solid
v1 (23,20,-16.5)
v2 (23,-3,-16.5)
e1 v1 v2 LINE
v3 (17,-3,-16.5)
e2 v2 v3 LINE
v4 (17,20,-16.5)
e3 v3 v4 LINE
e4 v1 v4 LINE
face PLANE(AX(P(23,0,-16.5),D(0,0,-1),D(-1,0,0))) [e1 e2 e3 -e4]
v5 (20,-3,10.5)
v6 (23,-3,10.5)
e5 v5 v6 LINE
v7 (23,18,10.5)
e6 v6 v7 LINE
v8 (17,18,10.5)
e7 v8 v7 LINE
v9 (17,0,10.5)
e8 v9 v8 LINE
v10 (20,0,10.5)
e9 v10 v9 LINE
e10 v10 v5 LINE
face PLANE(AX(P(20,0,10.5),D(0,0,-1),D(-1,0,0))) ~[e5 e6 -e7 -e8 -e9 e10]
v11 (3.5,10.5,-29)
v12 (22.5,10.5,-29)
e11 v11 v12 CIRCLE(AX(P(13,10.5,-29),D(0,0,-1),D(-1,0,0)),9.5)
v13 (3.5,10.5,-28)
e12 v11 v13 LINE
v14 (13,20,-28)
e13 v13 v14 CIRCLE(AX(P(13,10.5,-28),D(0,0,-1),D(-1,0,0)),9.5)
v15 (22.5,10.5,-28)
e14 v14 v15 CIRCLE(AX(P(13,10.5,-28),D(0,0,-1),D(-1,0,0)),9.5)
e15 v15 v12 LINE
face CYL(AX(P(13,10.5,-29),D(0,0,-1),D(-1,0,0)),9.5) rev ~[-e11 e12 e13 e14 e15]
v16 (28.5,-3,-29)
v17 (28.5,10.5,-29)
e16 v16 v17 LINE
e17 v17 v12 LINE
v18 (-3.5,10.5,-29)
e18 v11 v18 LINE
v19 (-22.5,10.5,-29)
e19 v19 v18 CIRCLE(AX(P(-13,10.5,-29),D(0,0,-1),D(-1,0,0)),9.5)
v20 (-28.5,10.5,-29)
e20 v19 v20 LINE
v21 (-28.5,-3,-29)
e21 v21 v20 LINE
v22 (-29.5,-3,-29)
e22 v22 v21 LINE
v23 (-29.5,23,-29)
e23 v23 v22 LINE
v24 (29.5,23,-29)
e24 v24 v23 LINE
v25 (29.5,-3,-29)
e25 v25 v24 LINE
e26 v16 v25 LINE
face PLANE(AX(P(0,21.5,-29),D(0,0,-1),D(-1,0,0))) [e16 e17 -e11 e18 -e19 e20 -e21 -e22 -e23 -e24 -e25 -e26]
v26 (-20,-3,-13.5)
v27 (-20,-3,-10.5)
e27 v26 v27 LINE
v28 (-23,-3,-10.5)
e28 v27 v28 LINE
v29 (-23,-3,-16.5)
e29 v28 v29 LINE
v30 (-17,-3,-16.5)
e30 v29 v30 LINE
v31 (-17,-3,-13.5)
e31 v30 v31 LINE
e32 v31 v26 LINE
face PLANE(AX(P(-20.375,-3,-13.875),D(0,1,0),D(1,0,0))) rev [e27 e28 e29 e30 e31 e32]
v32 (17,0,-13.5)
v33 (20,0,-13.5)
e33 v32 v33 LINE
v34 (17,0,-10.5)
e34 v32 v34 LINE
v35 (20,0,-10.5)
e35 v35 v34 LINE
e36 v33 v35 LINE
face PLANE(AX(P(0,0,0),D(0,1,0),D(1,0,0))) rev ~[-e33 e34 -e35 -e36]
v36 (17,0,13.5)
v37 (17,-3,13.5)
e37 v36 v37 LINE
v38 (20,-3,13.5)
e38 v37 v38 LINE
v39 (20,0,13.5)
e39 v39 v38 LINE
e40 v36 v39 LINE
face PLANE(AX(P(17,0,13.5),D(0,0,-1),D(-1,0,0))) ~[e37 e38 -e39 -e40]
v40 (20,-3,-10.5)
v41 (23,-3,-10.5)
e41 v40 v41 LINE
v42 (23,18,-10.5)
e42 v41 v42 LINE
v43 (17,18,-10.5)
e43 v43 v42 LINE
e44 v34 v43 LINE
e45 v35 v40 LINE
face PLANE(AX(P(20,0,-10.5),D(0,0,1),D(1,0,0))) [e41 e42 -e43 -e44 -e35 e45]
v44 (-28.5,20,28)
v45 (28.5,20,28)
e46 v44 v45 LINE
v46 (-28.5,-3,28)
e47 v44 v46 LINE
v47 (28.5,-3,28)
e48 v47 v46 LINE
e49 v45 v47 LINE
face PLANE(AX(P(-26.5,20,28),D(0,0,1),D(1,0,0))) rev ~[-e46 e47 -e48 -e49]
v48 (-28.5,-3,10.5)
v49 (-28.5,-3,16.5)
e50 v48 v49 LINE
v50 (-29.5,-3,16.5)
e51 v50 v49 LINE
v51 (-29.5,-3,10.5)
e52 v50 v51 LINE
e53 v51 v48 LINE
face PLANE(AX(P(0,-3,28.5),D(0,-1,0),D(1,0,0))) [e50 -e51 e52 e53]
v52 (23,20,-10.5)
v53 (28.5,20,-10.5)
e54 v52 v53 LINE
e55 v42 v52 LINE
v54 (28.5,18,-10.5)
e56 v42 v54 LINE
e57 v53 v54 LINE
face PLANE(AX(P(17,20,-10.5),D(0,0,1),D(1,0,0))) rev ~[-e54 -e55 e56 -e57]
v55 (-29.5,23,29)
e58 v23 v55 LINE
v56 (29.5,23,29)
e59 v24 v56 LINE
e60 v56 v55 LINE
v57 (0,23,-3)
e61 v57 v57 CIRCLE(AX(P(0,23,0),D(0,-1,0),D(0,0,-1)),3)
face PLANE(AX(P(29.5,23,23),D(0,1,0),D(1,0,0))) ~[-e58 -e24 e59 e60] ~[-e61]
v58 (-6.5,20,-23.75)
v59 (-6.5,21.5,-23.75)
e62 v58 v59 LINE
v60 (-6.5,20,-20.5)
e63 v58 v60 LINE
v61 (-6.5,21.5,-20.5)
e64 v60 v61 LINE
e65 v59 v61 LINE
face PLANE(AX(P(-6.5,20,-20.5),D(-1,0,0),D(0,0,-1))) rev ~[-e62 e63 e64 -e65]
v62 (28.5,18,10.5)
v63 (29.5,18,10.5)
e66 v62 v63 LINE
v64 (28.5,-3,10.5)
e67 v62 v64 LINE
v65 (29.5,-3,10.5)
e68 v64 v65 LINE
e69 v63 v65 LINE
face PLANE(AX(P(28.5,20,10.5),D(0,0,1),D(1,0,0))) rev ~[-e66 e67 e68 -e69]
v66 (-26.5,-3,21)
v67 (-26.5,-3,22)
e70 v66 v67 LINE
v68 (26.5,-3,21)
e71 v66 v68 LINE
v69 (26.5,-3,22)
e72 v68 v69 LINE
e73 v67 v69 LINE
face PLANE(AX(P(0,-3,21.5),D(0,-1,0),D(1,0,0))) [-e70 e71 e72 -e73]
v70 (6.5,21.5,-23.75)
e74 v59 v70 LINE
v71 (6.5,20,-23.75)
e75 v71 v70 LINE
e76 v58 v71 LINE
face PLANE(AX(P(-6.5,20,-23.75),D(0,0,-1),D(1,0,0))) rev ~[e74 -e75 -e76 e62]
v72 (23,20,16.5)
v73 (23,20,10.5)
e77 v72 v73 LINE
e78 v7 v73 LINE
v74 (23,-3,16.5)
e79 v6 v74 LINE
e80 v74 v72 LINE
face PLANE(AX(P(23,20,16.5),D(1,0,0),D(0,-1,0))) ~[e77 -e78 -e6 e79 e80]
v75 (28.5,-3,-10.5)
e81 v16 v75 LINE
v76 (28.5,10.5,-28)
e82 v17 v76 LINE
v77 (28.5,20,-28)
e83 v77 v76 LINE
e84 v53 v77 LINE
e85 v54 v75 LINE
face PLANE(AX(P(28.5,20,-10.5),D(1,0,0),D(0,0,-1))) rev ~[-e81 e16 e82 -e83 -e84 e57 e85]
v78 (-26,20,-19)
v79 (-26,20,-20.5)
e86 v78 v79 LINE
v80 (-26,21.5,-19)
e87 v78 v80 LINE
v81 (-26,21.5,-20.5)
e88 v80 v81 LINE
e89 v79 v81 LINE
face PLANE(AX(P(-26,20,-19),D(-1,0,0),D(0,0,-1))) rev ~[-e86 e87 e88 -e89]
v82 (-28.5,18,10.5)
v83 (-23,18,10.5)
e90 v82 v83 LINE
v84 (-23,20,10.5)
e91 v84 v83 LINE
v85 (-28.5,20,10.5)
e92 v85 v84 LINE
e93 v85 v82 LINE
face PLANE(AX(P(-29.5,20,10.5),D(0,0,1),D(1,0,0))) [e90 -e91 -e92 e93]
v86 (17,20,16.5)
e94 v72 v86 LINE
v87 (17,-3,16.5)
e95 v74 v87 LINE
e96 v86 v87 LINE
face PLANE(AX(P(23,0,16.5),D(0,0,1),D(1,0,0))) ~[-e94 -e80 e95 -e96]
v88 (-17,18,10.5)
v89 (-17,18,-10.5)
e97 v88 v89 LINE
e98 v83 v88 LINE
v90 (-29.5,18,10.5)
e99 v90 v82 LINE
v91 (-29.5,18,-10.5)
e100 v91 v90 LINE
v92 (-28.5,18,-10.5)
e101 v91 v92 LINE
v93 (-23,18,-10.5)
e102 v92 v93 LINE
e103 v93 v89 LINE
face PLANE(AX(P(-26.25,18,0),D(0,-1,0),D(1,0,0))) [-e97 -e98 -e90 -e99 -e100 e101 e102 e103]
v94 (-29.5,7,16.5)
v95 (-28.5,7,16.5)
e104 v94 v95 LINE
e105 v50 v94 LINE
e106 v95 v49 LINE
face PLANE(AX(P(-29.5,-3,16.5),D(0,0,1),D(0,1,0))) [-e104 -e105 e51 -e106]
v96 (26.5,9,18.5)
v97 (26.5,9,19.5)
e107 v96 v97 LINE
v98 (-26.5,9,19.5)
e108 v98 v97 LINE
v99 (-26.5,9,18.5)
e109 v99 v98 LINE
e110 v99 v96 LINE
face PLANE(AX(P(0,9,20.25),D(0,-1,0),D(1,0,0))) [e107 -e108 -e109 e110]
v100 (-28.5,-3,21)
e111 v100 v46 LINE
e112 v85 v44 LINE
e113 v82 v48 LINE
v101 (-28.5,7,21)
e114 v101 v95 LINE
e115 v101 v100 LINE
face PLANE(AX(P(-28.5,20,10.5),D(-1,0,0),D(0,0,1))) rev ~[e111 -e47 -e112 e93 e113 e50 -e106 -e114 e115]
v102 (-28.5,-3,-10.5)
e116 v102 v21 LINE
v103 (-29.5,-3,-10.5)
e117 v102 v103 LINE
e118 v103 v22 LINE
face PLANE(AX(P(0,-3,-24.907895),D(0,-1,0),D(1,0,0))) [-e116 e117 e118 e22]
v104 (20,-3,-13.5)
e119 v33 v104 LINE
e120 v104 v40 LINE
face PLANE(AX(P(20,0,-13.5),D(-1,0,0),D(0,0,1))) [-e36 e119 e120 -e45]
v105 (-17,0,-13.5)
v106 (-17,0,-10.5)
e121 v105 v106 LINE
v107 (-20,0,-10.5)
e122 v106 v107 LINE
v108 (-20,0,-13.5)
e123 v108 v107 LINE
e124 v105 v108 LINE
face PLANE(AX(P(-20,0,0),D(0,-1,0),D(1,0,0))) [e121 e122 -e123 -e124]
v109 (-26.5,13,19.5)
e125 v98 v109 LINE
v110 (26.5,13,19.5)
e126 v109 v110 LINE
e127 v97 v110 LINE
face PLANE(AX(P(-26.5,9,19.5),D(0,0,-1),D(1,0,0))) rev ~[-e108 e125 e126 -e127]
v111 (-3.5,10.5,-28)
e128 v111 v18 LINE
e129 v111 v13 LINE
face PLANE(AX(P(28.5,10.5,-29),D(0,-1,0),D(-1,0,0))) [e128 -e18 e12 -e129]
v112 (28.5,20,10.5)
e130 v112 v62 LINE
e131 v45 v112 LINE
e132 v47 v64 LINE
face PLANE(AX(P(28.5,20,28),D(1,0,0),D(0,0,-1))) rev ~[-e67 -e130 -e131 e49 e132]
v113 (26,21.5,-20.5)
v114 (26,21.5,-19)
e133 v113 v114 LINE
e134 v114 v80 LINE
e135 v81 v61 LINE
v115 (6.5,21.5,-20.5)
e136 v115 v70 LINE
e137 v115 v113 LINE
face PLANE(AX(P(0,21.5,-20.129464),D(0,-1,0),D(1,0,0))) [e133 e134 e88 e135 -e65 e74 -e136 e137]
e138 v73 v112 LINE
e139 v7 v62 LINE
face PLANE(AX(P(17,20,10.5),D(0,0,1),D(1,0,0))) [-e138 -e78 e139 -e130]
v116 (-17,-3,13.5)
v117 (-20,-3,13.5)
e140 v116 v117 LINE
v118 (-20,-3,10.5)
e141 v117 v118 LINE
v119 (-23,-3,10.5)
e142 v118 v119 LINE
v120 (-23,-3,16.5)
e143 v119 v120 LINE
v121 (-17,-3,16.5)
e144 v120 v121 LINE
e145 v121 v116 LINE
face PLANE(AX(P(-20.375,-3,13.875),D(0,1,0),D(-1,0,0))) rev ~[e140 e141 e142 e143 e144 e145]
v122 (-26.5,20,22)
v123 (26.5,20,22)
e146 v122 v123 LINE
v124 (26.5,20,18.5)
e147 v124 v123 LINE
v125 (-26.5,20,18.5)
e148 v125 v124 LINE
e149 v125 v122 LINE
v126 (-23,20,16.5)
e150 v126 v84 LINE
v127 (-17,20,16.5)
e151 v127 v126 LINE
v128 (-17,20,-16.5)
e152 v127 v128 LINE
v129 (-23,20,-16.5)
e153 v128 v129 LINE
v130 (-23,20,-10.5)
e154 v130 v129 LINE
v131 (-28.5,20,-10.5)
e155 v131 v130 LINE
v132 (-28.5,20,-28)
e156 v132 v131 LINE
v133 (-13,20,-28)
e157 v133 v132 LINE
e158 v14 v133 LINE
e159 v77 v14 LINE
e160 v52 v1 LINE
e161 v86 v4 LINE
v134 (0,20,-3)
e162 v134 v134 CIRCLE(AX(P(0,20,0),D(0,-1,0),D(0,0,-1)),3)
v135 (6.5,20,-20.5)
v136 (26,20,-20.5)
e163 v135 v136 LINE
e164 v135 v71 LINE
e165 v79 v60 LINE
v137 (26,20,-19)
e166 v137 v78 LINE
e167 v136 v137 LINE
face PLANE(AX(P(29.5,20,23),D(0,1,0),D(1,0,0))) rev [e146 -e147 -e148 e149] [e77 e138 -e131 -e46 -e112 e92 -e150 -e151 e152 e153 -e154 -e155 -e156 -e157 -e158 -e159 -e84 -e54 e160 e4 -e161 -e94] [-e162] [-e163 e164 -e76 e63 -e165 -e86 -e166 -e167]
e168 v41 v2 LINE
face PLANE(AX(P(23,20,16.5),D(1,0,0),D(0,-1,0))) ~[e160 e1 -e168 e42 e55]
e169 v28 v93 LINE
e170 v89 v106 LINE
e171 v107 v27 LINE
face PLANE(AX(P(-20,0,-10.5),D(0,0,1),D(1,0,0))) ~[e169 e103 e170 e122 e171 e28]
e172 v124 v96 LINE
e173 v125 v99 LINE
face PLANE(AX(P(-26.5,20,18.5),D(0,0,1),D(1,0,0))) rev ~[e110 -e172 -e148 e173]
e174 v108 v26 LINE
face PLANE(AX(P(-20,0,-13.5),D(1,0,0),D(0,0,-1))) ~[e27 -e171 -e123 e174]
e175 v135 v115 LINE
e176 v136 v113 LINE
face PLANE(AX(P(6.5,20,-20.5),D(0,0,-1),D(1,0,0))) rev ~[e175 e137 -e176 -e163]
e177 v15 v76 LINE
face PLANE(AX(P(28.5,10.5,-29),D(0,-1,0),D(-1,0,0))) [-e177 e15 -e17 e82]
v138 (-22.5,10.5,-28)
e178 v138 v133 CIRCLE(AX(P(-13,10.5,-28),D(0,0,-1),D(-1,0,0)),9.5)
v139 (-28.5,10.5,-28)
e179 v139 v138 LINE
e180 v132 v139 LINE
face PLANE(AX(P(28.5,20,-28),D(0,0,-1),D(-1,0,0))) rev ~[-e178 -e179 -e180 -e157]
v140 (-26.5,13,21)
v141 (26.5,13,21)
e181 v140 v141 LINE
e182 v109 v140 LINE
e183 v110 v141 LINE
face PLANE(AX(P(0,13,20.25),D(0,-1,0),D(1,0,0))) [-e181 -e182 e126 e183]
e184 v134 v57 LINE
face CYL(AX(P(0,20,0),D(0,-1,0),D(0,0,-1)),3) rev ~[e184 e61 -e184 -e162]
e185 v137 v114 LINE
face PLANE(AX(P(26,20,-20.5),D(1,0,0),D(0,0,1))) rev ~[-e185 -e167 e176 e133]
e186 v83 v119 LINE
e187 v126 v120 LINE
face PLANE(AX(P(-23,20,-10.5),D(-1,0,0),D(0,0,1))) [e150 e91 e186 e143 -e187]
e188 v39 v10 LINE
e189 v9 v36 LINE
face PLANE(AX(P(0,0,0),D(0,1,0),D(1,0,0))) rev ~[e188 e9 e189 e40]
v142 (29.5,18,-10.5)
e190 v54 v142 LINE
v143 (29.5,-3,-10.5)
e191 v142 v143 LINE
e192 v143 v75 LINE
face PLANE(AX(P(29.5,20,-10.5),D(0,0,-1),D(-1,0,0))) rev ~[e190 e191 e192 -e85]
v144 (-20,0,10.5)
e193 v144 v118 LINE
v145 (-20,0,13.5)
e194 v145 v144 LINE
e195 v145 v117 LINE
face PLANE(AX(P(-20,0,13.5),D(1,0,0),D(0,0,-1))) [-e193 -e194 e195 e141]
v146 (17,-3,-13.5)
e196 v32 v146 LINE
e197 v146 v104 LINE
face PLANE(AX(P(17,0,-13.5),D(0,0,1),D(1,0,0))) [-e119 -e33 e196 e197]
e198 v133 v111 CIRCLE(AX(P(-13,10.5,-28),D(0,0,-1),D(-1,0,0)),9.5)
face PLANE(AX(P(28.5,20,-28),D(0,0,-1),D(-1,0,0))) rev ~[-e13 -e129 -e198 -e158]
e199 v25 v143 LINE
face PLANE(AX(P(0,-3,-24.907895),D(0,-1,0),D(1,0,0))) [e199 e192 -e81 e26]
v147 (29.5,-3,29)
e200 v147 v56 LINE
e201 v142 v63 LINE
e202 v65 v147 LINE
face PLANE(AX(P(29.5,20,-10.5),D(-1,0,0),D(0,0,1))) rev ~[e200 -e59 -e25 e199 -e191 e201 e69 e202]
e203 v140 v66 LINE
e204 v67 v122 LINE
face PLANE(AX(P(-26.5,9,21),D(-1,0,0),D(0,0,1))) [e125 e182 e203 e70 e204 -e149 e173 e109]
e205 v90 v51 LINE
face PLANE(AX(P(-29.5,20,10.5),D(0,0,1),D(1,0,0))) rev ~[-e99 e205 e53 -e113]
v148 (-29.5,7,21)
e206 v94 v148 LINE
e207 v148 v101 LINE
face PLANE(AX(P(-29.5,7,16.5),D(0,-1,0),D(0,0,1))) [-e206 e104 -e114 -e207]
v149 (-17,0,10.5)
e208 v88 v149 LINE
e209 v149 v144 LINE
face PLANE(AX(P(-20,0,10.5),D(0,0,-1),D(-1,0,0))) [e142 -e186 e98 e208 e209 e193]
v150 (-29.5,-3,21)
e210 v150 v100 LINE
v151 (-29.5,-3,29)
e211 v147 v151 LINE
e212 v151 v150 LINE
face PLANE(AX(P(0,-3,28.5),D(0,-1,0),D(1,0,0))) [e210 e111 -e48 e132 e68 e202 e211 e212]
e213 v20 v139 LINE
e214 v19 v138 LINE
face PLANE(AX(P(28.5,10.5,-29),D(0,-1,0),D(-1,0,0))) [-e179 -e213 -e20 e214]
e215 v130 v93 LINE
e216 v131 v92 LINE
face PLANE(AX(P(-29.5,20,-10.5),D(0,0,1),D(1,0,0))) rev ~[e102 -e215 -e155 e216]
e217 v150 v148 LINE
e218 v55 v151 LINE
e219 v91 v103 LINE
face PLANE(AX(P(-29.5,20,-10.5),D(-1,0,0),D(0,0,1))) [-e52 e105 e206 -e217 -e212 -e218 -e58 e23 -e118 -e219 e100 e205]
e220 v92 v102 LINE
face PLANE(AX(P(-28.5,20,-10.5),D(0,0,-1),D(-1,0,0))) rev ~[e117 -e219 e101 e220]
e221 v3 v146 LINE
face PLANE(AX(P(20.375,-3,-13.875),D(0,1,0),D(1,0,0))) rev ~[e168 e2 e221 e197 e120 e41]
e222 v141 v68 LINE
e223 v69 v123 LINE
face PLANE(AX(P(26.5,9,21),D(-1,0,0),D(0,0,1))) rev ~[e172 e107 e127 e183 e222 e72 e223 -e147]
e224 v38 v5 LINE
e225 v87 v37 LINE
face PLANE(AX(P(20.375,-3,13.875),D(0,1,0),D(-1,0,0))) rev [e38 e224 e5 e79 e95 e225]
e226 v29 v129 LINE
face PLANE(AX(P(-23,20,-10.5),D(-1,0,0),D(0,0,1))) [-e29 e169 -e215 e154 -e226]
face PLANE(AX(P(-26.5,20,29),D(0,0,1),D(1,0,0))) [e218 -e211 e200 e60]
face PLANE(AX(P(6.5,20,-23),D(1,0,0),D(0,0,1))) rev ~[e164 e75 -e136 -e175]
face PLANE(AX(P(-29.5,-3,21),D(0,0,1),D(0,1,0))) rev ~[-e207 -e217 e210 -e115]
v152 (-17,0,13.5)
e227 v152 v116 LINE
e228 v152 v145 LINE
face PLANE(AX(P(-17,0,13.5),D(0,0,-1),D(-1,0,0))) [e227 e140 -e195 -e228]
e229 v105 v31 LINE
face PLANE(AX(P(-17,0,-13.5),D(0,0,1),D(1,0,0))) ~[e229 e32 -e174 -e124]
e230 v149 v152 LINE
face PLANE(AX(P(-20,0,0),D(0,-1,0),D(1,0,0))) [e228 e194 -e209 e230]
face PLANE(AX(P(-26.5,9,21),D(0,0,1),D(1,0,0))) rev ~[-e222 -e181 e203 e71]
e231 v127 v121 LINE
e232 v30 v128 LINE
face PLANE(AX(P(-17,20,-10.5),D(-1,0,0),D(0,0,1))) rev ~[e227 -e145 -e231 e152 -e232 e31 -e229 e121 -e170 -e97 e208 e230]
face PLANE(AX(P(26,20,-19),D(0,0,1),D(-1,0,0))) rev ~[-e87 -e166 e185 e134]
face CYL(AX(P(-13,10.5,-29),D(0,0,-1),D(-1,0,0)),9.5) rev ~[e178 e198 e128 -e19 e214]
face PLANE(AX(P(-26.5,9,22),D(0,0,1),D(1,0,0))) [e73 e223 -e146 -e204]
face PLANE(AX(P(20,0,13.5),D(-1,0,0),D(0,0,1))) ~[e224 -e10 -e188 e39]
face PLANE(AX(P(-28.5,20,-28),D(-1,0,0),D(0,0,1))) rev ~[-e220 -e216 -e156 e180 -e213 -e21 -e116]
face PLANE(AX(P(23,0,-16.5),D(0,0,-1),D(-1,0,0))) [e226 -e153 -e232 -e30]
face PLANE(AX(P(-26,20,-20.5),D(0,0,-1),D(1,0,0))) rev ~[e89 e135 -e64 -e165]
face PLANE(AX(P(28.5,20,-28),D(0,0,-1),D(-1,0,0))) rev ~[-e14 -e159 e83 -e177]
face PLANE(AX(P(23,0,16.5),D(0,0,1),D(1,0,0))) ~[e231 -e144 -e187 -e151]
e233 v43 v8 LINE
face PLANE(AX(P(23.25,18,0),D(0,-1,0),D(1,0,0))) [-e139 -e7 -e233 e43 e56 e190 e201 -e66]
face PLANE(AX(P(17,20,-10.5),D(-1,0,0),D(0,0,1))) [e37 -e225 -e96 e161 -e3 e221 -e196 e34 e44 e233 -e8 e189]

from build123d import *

# Parameters (mm, degrees)
SKETCH1_W            = 46
SKETCH1_H            = 33
BOSS_EXTRUDE1_DEPTH  = 23
CUT_EXTRUDE2_DEPTH   = 20
BOSS_EXTRUDE2_DEPTH  = 3
MIRROR2_COPY_1_DEPTH = 3
SKETCH6_W            = 6
SKETCH6_H            = 21
CUT_EXTRUDE3_DEPTH   = 20
SKETCH7_R            = 3
CUT_EXTRUDE5_DEPTH   = 37.47259245
SKETCH8_W            = 46
SKETCH8_H            = 3
BOSS_EXTRUDE3_DEPTH  = 6.5
SKETCH10_W           = 6
SKETCH10_H           = 21
BOSS_EXTRUDE4_DEPTH  = 20
CUT_EXTRUDE7_REACH   = 58.338
SKETCH11_W           = 21
SKETCH11_H           = 20
SKETCH13_W           = 46
SKETCH13_H           = 3
BOSS_EXTRUDE6_DEPTH  = 6.5
CUT_EXTRUDE8_DEPTH   = 1.5
SKETCH14_W           = 59
SKETCH14_H           = 3
BOSS_EXTRUDE7_DEPTH  = 6
SKETCH15_W           = 13
SKETCH15_H           = 0.75
CUT_EXTRUDE9_DEPTH   = 1.5
BOSS_EXTRUDE8_DEPTH  = 23
CUT_EXTRUDE11_REACH  = 71.016
SKETCH17_R           = 9.5
SKETCH17_W           = 57
SKETCH17_H           = 13.5
SKETCH20_W           = 53
SKETCH20_H           = 3.5
BOSS_EXTRUDE10_DEPTH = 11
SKETCH22_W           = 53
SKETCH22_H           = 1.5
CUT_EXTRUDE12_DEPTH  = 4
SKETCH23_W           = 12
SKETCH23_H           = 33
CUT_EXTRUDE13_DEPTH  = 20
SKETCH25_W           = 6.5
SKETCH25_H           = 21
BOSS_EXTRUDE11_DEPTH = 2
SKETCH27_W           = 53
SKETCH27_H           = 1
BOSS_EXTRUDE12_DEPTH = 12
SKETCH18_W           = 53
SKETCH18_H           = 1
BOSS_EXTRUDE13_DEPTH = 23
SKETCH33_W           = 12.5
SKETCH33_H           = 21
BOSS_EXTRUDE14_DEPTH = 2
CUT_EXTRUDE14_REACH  = 71.649
SKETCH34_W           = 4.5
SKETCH34_H           = 10


with BuildPart() as part:
    # Sketch1 → Boss-Extrude1 (new body)
    with BuildSketch(Plane(origin=(0, 0, 0), x_dir=(1, 0, 0), z_dir=(0, 1, 0))):
        Rectangle(SKETCH1_W, SKETCH1_H)
    extrude(amount=BOSS_EXTRUDE1_DEPTH)

    # Sketch3 → Cut-Extrude2 (cut)
    with BuildSketch(Plane.XZ):
        Polygon((-17, -10.5), (-17, -16.5), (5, -16.5), (5, -10.5), (17, -10.5), (17, 10.5), (5, 10.5), (5, 16.5), (-17, 16.5), (-17, 10.5), (-23, 10.5), (-23, -10.5), align=None)
    extrude(amount=-CUT_EXTRUDE2_DEPTH, mode=Mode.SUBTRACT)

    # Sketch5 → Boss-Extrude2 (add)
    with BuildSketch(Plane.XZ):
        Polygon((-17, 13.5), (-20, 13.5), (-20, 10.5), (-23, 10.5), (-23, 16.5), (-17, 16.5), align=None)
    boss_extrude2 = extrude(amount=BOSS_EXTRUDE2_DEPTH)

    # Mirror1: Boss-Extrude2 across plane
    add(boss_extrude2.mirror(Plane.XY))

    # Mirror2: Boss-Extrude2 across plane
    add(boss_extrude2.mirror(Plane(origin=(0, 0, 0), x_dir=(0, 0, 1), z_dir=(1, 0, 0))))

    # Mirror2 copy 1 sketch → Mirror2 copy 1 (add)
    with BuildSketch(Plane(origin=(0, 0, 0), x_dir=(-1, 0, 0), z_dir=(0, -1, 0))):
        Polygon((-17, 13.5), (-20, 13.5), (-20, 10.5), (-23, 10.5), (-23, 16.5), (-17, 16.5), align=None)
    extrude(amount=MIRROR2_COPY_1_DEPTH)

    # Sketch6 → Cut-Extrude3 (cut)
    with BuildSketch(Plane.XZ):
        with Locations((20, 0)):
            Rectangle(SKETCH6_W, SKETCH6_H)
    extrude(amount=-CUT_EXTRUDE3_DEPTH, mode=Mode.SUBTRACT)

    # Sketch7 → Cut-Extrude5 (cut, through all)
    with BuildSketch(Plane.XZ.offset(-20)):
        with Locations(Location((0, 0, 0), (0, 0, 270))):
            Circle(SKETCH7_R)
    extrude(amount=-CUT_EXTRUDE5_DEPTH, mode=Mode.SUBTRACT)

    # Sketch8 → Boss-Extrude3 (add)
    with BuildSketch(Plane(origin=(0, 0, -16.5), x_dir=(-1, 0, 0), z_dir=(0, 0, -1))):
        with Locations((0, 21.5)):
            Rectangle(SKETCH8_W, SKETCH8_H)
    boss_extrude3 = extrude(amount=BOSS_EXTRUDE3_DEPTH)

    # Mirror3: Boss-Extrude3 across plane
    add(boss_extrude3.mirror(Plane.XY))

    # Sketch10 → Boss-Extrude4 (add)
    with BuildSketch(Plane.XZ.offset(-20)):
        with Locations((-20, 0)):
            Rectangle(SKETCH10_W, SKETCH10_H)
    extrude(amount=BOSS_EXTRUDE4_DEPTH)

    # Sketch11 → Cut-Extrude7 (cut, up to next)
    with BuildSketch(Plane.ZY.offset(23), mode=Mode.PRIVATE) as cut_extrude7_sk1:
        with Locations((0, 8)):
            Rectangle(SKETCH11_W, SKETCH11_H)
    cut_extrude7_tool1 = extrude(cut_extrude7_sk1.sketch, amount=-CUT_EXTRUDE7_REACH, mode=Mode.PRIVATE) & part.part
    add(cut_extrude7_tool1.solids().sort_by_distance((-23, 8, 0))[0], mode=Mode.SUBTRACT)

    # Sketch13 → Boss-Extrude6 (add)
    with BuildSketch(Plane(origin=(23, 0, 0), x_dir=(0, 0, -1), z_dir=(1, 0, 0))):
        with Locations((0, 21.5)):
            Rectangle(SKETCH13_W, SKETCH13_H)
    boss_extrude6 = extrude(amount=BOSS_EXTRUDE6_DEPTH)

    # Mirror4: Boss-Extrude6 across plane
    add(boss_extrude6.mirror(Plane(origin=(0, 0, 0), x_dir=(0, 0, 1), z_dir=(1, 0, 0))))

    # Sketch12 → Cut-Extrude8 (cut)
    with BuildSketch(Plane.XZ.offset(-20)):
        Polygon((-6.5, -20.5), (-6.5, -23), (6.5, -23), (6.5, -20.5), (26, -20.5), (26, -19), (-26, -19), (-26, -20.5), align=None)
    extrude(amount=-CUT_EXTRUDE8_DEPTH, mode=Mode.SUBTRACT)

    # Sketch14 → Boss-Extrude7 (add)
    with BuildSketch(Plane(origin=(0, 0, -23), x_dir=(-1, 0, 0), z_dir=(0, 0, -1))):
        with Locations((0, 21.5)):
            Rectangle(SKETCH14_W, SKETCH14_H)
    boss_extrude7 = extrude(amount=BOSS_EXTRUDE7_DEPTH)

    # Mirror5: Boss-Extrude7 across plane
    add(boss_extrude7.mirror(Plane.XY))

    # Sketch15 → Cut-Extrude9 (cut)
    with BuildSketch(Plane.XZ.offset(-20)):
        with Locations((0, -23.375)):
            Rectangle(SKETCH15_W, SKETCH15_H)
    extrude(amount=-CUT_EXTRUDE9_DEPTH, mode=Mode.SUBTRACT)

    # Sketch16 → Boss-Extrude8 (add)
    with BuildSketch(Plane.XZ.offset(-20)):
        Polygon((-28.5, 28), (-26.5, 28), (-26.5, 29), (-29.5, 29), (-29.5, 10.5), (-28.5, 10.5), align=None)
        Polygon((26.5, 28), (28.5, 28), (28.5, 10.5), (29.5, 10.5), (29.5, 29), (26.5, 29), align=None)
        Polygon((29.5, -10.5), (28.5, -10.5), (28.5, -28), (-28.5, -28), (-28.5, -10.5), (-29.5, -10.5), (-29.5, -29), (29.5, -29), align=None)
    extrude(amount=BOSS_EXTRUDE8_DEPTH)

    # Sketch17 → Cut-Extrude11 (cut, up to next)
    with BuildSketch(Plane(origin=(0, 0, -29), x_dir=(-1, 0, 0), z_dir=(0, 0, -1)), mode=Mode.PRIVATE) as cut_extrude11_sk1:
        with Locations((13, 10.5)):
            Circle(SKETCH17_R)
    cut_extrude11_tool1 = extrude(cut_extrude11_sk1.sketch, amount=-CUT_EXTRUDE11_REACH, mode=Mode.PRIVATE) & part.part
    # Sketch17 → Cut-Extrude11 (cut, up to next)
    with BuildSketch(Plane(origin=(0, 0, -29), x_dir=(-1, 0, 0), z_dir=(0, 0, -1)), mode=Mode.PRIVATE) as cut_extrude11_sk2:
        with Locations((-13, 10.5)):
            Circle(SKETCH17_R)
    cut_extrude11_tool2 = extrude(cut_extrude11_sk2.sketch, amount=-CUT_EXTRUDE11_REACH, mode=Mode.PRIVATE) & part.part
    # Sketch17 → Cut-Extrude11 (cut, up to next)
    with BuildSketch(Plane(origin=(0, 0, -29), x_dir=(-1, 0, 0), z_dir=(0, 0, -1)), mode=Mode.PRIVATE) as cut_extrude11_sk3:
        with Locations((0, 3.75)):
            Rectangle(SKETCH17_W, SKETCH17_H)
    cut_extrude11_tool3 = extrude(cut_extrude11_sk3.sketch, amount=-CUT_EXTRUDE11_REACH, mode=Mode.PRIVATE) & part.part
    add(cut_extrude11_tool1.solids().sort_by_distance((-13, 10.5, -29))[0], mode=Mode.SUBTRACT)
    add(cut_extrude11_tool2.solids().sort_by_distance((13, 10.5, -29))[0], mode=Mode.SUBTRACT)
    add(cut_extrude11_tool3.solids().sort_by_distance((0, 3.75, -29))[0], mode=Mode.SUBTRACT)

    # Sketch20 → Boss-Extrude10 (add)
    with BuildSketch(Plane.XZ.offset(-20)):
        with Locations((0, 20.25)):
            Rectangle(SKETCH20_W, SKETCH20_H)
    extrude(amount=BOSS_EXTRUDE10_DEPTH)

    # Sketch22 → Cut-Extrude12 (cut)
    with BuildSketch(Plane.XZ.offset(-9)):
        with Locations((0, 20.25)):
            Rectangle(SKETCH22_W, SKETCH22_H)
    extrude(amount=-CUT_EXTRUDE12_DEPTH, mode=Mode.SUBTRACT)

    # Sketch23 → Cut-Extrude13 (cut)
    with BuildSketch(Plane.XZ):
        with Locations((11, 0)):
            Rectangle(SKETCH23_W, SKETCH23_H)
    extrude(amount=-CUT_EXTRUDE13_DEPTH, mode=Mode.SUBTRACT)

    # Sketch25 → Boss-Extrude11 (add)
    with BuildSketch(Plane.XZ.offset(-20)):
        with Locations((-26.25, 0)):
            Rectangle(SKETCH25_W, SKETCH25_H)
    extrude(amount=BOSS_EXTRUDE11_DEPTH)

    # Sketch27 → Boss-Extrude12 (add)
    with BuildSketch(Plane.XZ.offset(-9)):
        with Locations((0, 21.5)):
            Rectangle(SKETCH27_W, SKETCH27_H)
    extrude(amount=BOSS_EXTRUDE12_DEPTH)

    # Sketch18 → Boss-Extrude13 (add)
    with BuildSketch(Plane.XZ.offset(-20)):
        with Locations((0, 28.5)):
            Rectangle(SKETCH18_W, SKETCH18_H)
    extrude(amount=BOSS_EXTRUDE13_DEPTH)

    # Sketch33 → Boss-Extrude14 (add)
    with BuildSketch(Plane.XZ.offset(-20)):
        with Locations((23.25, 0)):
            Rectangle(SKETCH33_W, SKETCH33_H)
    extrude(amount=BOSS_EXTRUDE14_DEPTH)

    # Sketch34 → Cut-Extrude14 (cut, up to next)
    with BuildSketch(Plane.ZY.offset(29.5), mode=Mode.PRIVATE) as cut_extrude14_sk1:
        with Locations((18.75, 2)):
            Rectangle(SKETCH34_W, SKETCH34_H)
    cut_extrude14_tool1 = extrude(cut_extrude14_sk1.sketch, amount=-CUT_EXTRUDE14_REACH, mode=Mode.PRIVATE) & part.part
    add(cut_extrude14_tool1.solids().sort_by_distance((-29.5, 2, 18.75))[0], mode=Mode.SUBTRACT)


solid = part.part
